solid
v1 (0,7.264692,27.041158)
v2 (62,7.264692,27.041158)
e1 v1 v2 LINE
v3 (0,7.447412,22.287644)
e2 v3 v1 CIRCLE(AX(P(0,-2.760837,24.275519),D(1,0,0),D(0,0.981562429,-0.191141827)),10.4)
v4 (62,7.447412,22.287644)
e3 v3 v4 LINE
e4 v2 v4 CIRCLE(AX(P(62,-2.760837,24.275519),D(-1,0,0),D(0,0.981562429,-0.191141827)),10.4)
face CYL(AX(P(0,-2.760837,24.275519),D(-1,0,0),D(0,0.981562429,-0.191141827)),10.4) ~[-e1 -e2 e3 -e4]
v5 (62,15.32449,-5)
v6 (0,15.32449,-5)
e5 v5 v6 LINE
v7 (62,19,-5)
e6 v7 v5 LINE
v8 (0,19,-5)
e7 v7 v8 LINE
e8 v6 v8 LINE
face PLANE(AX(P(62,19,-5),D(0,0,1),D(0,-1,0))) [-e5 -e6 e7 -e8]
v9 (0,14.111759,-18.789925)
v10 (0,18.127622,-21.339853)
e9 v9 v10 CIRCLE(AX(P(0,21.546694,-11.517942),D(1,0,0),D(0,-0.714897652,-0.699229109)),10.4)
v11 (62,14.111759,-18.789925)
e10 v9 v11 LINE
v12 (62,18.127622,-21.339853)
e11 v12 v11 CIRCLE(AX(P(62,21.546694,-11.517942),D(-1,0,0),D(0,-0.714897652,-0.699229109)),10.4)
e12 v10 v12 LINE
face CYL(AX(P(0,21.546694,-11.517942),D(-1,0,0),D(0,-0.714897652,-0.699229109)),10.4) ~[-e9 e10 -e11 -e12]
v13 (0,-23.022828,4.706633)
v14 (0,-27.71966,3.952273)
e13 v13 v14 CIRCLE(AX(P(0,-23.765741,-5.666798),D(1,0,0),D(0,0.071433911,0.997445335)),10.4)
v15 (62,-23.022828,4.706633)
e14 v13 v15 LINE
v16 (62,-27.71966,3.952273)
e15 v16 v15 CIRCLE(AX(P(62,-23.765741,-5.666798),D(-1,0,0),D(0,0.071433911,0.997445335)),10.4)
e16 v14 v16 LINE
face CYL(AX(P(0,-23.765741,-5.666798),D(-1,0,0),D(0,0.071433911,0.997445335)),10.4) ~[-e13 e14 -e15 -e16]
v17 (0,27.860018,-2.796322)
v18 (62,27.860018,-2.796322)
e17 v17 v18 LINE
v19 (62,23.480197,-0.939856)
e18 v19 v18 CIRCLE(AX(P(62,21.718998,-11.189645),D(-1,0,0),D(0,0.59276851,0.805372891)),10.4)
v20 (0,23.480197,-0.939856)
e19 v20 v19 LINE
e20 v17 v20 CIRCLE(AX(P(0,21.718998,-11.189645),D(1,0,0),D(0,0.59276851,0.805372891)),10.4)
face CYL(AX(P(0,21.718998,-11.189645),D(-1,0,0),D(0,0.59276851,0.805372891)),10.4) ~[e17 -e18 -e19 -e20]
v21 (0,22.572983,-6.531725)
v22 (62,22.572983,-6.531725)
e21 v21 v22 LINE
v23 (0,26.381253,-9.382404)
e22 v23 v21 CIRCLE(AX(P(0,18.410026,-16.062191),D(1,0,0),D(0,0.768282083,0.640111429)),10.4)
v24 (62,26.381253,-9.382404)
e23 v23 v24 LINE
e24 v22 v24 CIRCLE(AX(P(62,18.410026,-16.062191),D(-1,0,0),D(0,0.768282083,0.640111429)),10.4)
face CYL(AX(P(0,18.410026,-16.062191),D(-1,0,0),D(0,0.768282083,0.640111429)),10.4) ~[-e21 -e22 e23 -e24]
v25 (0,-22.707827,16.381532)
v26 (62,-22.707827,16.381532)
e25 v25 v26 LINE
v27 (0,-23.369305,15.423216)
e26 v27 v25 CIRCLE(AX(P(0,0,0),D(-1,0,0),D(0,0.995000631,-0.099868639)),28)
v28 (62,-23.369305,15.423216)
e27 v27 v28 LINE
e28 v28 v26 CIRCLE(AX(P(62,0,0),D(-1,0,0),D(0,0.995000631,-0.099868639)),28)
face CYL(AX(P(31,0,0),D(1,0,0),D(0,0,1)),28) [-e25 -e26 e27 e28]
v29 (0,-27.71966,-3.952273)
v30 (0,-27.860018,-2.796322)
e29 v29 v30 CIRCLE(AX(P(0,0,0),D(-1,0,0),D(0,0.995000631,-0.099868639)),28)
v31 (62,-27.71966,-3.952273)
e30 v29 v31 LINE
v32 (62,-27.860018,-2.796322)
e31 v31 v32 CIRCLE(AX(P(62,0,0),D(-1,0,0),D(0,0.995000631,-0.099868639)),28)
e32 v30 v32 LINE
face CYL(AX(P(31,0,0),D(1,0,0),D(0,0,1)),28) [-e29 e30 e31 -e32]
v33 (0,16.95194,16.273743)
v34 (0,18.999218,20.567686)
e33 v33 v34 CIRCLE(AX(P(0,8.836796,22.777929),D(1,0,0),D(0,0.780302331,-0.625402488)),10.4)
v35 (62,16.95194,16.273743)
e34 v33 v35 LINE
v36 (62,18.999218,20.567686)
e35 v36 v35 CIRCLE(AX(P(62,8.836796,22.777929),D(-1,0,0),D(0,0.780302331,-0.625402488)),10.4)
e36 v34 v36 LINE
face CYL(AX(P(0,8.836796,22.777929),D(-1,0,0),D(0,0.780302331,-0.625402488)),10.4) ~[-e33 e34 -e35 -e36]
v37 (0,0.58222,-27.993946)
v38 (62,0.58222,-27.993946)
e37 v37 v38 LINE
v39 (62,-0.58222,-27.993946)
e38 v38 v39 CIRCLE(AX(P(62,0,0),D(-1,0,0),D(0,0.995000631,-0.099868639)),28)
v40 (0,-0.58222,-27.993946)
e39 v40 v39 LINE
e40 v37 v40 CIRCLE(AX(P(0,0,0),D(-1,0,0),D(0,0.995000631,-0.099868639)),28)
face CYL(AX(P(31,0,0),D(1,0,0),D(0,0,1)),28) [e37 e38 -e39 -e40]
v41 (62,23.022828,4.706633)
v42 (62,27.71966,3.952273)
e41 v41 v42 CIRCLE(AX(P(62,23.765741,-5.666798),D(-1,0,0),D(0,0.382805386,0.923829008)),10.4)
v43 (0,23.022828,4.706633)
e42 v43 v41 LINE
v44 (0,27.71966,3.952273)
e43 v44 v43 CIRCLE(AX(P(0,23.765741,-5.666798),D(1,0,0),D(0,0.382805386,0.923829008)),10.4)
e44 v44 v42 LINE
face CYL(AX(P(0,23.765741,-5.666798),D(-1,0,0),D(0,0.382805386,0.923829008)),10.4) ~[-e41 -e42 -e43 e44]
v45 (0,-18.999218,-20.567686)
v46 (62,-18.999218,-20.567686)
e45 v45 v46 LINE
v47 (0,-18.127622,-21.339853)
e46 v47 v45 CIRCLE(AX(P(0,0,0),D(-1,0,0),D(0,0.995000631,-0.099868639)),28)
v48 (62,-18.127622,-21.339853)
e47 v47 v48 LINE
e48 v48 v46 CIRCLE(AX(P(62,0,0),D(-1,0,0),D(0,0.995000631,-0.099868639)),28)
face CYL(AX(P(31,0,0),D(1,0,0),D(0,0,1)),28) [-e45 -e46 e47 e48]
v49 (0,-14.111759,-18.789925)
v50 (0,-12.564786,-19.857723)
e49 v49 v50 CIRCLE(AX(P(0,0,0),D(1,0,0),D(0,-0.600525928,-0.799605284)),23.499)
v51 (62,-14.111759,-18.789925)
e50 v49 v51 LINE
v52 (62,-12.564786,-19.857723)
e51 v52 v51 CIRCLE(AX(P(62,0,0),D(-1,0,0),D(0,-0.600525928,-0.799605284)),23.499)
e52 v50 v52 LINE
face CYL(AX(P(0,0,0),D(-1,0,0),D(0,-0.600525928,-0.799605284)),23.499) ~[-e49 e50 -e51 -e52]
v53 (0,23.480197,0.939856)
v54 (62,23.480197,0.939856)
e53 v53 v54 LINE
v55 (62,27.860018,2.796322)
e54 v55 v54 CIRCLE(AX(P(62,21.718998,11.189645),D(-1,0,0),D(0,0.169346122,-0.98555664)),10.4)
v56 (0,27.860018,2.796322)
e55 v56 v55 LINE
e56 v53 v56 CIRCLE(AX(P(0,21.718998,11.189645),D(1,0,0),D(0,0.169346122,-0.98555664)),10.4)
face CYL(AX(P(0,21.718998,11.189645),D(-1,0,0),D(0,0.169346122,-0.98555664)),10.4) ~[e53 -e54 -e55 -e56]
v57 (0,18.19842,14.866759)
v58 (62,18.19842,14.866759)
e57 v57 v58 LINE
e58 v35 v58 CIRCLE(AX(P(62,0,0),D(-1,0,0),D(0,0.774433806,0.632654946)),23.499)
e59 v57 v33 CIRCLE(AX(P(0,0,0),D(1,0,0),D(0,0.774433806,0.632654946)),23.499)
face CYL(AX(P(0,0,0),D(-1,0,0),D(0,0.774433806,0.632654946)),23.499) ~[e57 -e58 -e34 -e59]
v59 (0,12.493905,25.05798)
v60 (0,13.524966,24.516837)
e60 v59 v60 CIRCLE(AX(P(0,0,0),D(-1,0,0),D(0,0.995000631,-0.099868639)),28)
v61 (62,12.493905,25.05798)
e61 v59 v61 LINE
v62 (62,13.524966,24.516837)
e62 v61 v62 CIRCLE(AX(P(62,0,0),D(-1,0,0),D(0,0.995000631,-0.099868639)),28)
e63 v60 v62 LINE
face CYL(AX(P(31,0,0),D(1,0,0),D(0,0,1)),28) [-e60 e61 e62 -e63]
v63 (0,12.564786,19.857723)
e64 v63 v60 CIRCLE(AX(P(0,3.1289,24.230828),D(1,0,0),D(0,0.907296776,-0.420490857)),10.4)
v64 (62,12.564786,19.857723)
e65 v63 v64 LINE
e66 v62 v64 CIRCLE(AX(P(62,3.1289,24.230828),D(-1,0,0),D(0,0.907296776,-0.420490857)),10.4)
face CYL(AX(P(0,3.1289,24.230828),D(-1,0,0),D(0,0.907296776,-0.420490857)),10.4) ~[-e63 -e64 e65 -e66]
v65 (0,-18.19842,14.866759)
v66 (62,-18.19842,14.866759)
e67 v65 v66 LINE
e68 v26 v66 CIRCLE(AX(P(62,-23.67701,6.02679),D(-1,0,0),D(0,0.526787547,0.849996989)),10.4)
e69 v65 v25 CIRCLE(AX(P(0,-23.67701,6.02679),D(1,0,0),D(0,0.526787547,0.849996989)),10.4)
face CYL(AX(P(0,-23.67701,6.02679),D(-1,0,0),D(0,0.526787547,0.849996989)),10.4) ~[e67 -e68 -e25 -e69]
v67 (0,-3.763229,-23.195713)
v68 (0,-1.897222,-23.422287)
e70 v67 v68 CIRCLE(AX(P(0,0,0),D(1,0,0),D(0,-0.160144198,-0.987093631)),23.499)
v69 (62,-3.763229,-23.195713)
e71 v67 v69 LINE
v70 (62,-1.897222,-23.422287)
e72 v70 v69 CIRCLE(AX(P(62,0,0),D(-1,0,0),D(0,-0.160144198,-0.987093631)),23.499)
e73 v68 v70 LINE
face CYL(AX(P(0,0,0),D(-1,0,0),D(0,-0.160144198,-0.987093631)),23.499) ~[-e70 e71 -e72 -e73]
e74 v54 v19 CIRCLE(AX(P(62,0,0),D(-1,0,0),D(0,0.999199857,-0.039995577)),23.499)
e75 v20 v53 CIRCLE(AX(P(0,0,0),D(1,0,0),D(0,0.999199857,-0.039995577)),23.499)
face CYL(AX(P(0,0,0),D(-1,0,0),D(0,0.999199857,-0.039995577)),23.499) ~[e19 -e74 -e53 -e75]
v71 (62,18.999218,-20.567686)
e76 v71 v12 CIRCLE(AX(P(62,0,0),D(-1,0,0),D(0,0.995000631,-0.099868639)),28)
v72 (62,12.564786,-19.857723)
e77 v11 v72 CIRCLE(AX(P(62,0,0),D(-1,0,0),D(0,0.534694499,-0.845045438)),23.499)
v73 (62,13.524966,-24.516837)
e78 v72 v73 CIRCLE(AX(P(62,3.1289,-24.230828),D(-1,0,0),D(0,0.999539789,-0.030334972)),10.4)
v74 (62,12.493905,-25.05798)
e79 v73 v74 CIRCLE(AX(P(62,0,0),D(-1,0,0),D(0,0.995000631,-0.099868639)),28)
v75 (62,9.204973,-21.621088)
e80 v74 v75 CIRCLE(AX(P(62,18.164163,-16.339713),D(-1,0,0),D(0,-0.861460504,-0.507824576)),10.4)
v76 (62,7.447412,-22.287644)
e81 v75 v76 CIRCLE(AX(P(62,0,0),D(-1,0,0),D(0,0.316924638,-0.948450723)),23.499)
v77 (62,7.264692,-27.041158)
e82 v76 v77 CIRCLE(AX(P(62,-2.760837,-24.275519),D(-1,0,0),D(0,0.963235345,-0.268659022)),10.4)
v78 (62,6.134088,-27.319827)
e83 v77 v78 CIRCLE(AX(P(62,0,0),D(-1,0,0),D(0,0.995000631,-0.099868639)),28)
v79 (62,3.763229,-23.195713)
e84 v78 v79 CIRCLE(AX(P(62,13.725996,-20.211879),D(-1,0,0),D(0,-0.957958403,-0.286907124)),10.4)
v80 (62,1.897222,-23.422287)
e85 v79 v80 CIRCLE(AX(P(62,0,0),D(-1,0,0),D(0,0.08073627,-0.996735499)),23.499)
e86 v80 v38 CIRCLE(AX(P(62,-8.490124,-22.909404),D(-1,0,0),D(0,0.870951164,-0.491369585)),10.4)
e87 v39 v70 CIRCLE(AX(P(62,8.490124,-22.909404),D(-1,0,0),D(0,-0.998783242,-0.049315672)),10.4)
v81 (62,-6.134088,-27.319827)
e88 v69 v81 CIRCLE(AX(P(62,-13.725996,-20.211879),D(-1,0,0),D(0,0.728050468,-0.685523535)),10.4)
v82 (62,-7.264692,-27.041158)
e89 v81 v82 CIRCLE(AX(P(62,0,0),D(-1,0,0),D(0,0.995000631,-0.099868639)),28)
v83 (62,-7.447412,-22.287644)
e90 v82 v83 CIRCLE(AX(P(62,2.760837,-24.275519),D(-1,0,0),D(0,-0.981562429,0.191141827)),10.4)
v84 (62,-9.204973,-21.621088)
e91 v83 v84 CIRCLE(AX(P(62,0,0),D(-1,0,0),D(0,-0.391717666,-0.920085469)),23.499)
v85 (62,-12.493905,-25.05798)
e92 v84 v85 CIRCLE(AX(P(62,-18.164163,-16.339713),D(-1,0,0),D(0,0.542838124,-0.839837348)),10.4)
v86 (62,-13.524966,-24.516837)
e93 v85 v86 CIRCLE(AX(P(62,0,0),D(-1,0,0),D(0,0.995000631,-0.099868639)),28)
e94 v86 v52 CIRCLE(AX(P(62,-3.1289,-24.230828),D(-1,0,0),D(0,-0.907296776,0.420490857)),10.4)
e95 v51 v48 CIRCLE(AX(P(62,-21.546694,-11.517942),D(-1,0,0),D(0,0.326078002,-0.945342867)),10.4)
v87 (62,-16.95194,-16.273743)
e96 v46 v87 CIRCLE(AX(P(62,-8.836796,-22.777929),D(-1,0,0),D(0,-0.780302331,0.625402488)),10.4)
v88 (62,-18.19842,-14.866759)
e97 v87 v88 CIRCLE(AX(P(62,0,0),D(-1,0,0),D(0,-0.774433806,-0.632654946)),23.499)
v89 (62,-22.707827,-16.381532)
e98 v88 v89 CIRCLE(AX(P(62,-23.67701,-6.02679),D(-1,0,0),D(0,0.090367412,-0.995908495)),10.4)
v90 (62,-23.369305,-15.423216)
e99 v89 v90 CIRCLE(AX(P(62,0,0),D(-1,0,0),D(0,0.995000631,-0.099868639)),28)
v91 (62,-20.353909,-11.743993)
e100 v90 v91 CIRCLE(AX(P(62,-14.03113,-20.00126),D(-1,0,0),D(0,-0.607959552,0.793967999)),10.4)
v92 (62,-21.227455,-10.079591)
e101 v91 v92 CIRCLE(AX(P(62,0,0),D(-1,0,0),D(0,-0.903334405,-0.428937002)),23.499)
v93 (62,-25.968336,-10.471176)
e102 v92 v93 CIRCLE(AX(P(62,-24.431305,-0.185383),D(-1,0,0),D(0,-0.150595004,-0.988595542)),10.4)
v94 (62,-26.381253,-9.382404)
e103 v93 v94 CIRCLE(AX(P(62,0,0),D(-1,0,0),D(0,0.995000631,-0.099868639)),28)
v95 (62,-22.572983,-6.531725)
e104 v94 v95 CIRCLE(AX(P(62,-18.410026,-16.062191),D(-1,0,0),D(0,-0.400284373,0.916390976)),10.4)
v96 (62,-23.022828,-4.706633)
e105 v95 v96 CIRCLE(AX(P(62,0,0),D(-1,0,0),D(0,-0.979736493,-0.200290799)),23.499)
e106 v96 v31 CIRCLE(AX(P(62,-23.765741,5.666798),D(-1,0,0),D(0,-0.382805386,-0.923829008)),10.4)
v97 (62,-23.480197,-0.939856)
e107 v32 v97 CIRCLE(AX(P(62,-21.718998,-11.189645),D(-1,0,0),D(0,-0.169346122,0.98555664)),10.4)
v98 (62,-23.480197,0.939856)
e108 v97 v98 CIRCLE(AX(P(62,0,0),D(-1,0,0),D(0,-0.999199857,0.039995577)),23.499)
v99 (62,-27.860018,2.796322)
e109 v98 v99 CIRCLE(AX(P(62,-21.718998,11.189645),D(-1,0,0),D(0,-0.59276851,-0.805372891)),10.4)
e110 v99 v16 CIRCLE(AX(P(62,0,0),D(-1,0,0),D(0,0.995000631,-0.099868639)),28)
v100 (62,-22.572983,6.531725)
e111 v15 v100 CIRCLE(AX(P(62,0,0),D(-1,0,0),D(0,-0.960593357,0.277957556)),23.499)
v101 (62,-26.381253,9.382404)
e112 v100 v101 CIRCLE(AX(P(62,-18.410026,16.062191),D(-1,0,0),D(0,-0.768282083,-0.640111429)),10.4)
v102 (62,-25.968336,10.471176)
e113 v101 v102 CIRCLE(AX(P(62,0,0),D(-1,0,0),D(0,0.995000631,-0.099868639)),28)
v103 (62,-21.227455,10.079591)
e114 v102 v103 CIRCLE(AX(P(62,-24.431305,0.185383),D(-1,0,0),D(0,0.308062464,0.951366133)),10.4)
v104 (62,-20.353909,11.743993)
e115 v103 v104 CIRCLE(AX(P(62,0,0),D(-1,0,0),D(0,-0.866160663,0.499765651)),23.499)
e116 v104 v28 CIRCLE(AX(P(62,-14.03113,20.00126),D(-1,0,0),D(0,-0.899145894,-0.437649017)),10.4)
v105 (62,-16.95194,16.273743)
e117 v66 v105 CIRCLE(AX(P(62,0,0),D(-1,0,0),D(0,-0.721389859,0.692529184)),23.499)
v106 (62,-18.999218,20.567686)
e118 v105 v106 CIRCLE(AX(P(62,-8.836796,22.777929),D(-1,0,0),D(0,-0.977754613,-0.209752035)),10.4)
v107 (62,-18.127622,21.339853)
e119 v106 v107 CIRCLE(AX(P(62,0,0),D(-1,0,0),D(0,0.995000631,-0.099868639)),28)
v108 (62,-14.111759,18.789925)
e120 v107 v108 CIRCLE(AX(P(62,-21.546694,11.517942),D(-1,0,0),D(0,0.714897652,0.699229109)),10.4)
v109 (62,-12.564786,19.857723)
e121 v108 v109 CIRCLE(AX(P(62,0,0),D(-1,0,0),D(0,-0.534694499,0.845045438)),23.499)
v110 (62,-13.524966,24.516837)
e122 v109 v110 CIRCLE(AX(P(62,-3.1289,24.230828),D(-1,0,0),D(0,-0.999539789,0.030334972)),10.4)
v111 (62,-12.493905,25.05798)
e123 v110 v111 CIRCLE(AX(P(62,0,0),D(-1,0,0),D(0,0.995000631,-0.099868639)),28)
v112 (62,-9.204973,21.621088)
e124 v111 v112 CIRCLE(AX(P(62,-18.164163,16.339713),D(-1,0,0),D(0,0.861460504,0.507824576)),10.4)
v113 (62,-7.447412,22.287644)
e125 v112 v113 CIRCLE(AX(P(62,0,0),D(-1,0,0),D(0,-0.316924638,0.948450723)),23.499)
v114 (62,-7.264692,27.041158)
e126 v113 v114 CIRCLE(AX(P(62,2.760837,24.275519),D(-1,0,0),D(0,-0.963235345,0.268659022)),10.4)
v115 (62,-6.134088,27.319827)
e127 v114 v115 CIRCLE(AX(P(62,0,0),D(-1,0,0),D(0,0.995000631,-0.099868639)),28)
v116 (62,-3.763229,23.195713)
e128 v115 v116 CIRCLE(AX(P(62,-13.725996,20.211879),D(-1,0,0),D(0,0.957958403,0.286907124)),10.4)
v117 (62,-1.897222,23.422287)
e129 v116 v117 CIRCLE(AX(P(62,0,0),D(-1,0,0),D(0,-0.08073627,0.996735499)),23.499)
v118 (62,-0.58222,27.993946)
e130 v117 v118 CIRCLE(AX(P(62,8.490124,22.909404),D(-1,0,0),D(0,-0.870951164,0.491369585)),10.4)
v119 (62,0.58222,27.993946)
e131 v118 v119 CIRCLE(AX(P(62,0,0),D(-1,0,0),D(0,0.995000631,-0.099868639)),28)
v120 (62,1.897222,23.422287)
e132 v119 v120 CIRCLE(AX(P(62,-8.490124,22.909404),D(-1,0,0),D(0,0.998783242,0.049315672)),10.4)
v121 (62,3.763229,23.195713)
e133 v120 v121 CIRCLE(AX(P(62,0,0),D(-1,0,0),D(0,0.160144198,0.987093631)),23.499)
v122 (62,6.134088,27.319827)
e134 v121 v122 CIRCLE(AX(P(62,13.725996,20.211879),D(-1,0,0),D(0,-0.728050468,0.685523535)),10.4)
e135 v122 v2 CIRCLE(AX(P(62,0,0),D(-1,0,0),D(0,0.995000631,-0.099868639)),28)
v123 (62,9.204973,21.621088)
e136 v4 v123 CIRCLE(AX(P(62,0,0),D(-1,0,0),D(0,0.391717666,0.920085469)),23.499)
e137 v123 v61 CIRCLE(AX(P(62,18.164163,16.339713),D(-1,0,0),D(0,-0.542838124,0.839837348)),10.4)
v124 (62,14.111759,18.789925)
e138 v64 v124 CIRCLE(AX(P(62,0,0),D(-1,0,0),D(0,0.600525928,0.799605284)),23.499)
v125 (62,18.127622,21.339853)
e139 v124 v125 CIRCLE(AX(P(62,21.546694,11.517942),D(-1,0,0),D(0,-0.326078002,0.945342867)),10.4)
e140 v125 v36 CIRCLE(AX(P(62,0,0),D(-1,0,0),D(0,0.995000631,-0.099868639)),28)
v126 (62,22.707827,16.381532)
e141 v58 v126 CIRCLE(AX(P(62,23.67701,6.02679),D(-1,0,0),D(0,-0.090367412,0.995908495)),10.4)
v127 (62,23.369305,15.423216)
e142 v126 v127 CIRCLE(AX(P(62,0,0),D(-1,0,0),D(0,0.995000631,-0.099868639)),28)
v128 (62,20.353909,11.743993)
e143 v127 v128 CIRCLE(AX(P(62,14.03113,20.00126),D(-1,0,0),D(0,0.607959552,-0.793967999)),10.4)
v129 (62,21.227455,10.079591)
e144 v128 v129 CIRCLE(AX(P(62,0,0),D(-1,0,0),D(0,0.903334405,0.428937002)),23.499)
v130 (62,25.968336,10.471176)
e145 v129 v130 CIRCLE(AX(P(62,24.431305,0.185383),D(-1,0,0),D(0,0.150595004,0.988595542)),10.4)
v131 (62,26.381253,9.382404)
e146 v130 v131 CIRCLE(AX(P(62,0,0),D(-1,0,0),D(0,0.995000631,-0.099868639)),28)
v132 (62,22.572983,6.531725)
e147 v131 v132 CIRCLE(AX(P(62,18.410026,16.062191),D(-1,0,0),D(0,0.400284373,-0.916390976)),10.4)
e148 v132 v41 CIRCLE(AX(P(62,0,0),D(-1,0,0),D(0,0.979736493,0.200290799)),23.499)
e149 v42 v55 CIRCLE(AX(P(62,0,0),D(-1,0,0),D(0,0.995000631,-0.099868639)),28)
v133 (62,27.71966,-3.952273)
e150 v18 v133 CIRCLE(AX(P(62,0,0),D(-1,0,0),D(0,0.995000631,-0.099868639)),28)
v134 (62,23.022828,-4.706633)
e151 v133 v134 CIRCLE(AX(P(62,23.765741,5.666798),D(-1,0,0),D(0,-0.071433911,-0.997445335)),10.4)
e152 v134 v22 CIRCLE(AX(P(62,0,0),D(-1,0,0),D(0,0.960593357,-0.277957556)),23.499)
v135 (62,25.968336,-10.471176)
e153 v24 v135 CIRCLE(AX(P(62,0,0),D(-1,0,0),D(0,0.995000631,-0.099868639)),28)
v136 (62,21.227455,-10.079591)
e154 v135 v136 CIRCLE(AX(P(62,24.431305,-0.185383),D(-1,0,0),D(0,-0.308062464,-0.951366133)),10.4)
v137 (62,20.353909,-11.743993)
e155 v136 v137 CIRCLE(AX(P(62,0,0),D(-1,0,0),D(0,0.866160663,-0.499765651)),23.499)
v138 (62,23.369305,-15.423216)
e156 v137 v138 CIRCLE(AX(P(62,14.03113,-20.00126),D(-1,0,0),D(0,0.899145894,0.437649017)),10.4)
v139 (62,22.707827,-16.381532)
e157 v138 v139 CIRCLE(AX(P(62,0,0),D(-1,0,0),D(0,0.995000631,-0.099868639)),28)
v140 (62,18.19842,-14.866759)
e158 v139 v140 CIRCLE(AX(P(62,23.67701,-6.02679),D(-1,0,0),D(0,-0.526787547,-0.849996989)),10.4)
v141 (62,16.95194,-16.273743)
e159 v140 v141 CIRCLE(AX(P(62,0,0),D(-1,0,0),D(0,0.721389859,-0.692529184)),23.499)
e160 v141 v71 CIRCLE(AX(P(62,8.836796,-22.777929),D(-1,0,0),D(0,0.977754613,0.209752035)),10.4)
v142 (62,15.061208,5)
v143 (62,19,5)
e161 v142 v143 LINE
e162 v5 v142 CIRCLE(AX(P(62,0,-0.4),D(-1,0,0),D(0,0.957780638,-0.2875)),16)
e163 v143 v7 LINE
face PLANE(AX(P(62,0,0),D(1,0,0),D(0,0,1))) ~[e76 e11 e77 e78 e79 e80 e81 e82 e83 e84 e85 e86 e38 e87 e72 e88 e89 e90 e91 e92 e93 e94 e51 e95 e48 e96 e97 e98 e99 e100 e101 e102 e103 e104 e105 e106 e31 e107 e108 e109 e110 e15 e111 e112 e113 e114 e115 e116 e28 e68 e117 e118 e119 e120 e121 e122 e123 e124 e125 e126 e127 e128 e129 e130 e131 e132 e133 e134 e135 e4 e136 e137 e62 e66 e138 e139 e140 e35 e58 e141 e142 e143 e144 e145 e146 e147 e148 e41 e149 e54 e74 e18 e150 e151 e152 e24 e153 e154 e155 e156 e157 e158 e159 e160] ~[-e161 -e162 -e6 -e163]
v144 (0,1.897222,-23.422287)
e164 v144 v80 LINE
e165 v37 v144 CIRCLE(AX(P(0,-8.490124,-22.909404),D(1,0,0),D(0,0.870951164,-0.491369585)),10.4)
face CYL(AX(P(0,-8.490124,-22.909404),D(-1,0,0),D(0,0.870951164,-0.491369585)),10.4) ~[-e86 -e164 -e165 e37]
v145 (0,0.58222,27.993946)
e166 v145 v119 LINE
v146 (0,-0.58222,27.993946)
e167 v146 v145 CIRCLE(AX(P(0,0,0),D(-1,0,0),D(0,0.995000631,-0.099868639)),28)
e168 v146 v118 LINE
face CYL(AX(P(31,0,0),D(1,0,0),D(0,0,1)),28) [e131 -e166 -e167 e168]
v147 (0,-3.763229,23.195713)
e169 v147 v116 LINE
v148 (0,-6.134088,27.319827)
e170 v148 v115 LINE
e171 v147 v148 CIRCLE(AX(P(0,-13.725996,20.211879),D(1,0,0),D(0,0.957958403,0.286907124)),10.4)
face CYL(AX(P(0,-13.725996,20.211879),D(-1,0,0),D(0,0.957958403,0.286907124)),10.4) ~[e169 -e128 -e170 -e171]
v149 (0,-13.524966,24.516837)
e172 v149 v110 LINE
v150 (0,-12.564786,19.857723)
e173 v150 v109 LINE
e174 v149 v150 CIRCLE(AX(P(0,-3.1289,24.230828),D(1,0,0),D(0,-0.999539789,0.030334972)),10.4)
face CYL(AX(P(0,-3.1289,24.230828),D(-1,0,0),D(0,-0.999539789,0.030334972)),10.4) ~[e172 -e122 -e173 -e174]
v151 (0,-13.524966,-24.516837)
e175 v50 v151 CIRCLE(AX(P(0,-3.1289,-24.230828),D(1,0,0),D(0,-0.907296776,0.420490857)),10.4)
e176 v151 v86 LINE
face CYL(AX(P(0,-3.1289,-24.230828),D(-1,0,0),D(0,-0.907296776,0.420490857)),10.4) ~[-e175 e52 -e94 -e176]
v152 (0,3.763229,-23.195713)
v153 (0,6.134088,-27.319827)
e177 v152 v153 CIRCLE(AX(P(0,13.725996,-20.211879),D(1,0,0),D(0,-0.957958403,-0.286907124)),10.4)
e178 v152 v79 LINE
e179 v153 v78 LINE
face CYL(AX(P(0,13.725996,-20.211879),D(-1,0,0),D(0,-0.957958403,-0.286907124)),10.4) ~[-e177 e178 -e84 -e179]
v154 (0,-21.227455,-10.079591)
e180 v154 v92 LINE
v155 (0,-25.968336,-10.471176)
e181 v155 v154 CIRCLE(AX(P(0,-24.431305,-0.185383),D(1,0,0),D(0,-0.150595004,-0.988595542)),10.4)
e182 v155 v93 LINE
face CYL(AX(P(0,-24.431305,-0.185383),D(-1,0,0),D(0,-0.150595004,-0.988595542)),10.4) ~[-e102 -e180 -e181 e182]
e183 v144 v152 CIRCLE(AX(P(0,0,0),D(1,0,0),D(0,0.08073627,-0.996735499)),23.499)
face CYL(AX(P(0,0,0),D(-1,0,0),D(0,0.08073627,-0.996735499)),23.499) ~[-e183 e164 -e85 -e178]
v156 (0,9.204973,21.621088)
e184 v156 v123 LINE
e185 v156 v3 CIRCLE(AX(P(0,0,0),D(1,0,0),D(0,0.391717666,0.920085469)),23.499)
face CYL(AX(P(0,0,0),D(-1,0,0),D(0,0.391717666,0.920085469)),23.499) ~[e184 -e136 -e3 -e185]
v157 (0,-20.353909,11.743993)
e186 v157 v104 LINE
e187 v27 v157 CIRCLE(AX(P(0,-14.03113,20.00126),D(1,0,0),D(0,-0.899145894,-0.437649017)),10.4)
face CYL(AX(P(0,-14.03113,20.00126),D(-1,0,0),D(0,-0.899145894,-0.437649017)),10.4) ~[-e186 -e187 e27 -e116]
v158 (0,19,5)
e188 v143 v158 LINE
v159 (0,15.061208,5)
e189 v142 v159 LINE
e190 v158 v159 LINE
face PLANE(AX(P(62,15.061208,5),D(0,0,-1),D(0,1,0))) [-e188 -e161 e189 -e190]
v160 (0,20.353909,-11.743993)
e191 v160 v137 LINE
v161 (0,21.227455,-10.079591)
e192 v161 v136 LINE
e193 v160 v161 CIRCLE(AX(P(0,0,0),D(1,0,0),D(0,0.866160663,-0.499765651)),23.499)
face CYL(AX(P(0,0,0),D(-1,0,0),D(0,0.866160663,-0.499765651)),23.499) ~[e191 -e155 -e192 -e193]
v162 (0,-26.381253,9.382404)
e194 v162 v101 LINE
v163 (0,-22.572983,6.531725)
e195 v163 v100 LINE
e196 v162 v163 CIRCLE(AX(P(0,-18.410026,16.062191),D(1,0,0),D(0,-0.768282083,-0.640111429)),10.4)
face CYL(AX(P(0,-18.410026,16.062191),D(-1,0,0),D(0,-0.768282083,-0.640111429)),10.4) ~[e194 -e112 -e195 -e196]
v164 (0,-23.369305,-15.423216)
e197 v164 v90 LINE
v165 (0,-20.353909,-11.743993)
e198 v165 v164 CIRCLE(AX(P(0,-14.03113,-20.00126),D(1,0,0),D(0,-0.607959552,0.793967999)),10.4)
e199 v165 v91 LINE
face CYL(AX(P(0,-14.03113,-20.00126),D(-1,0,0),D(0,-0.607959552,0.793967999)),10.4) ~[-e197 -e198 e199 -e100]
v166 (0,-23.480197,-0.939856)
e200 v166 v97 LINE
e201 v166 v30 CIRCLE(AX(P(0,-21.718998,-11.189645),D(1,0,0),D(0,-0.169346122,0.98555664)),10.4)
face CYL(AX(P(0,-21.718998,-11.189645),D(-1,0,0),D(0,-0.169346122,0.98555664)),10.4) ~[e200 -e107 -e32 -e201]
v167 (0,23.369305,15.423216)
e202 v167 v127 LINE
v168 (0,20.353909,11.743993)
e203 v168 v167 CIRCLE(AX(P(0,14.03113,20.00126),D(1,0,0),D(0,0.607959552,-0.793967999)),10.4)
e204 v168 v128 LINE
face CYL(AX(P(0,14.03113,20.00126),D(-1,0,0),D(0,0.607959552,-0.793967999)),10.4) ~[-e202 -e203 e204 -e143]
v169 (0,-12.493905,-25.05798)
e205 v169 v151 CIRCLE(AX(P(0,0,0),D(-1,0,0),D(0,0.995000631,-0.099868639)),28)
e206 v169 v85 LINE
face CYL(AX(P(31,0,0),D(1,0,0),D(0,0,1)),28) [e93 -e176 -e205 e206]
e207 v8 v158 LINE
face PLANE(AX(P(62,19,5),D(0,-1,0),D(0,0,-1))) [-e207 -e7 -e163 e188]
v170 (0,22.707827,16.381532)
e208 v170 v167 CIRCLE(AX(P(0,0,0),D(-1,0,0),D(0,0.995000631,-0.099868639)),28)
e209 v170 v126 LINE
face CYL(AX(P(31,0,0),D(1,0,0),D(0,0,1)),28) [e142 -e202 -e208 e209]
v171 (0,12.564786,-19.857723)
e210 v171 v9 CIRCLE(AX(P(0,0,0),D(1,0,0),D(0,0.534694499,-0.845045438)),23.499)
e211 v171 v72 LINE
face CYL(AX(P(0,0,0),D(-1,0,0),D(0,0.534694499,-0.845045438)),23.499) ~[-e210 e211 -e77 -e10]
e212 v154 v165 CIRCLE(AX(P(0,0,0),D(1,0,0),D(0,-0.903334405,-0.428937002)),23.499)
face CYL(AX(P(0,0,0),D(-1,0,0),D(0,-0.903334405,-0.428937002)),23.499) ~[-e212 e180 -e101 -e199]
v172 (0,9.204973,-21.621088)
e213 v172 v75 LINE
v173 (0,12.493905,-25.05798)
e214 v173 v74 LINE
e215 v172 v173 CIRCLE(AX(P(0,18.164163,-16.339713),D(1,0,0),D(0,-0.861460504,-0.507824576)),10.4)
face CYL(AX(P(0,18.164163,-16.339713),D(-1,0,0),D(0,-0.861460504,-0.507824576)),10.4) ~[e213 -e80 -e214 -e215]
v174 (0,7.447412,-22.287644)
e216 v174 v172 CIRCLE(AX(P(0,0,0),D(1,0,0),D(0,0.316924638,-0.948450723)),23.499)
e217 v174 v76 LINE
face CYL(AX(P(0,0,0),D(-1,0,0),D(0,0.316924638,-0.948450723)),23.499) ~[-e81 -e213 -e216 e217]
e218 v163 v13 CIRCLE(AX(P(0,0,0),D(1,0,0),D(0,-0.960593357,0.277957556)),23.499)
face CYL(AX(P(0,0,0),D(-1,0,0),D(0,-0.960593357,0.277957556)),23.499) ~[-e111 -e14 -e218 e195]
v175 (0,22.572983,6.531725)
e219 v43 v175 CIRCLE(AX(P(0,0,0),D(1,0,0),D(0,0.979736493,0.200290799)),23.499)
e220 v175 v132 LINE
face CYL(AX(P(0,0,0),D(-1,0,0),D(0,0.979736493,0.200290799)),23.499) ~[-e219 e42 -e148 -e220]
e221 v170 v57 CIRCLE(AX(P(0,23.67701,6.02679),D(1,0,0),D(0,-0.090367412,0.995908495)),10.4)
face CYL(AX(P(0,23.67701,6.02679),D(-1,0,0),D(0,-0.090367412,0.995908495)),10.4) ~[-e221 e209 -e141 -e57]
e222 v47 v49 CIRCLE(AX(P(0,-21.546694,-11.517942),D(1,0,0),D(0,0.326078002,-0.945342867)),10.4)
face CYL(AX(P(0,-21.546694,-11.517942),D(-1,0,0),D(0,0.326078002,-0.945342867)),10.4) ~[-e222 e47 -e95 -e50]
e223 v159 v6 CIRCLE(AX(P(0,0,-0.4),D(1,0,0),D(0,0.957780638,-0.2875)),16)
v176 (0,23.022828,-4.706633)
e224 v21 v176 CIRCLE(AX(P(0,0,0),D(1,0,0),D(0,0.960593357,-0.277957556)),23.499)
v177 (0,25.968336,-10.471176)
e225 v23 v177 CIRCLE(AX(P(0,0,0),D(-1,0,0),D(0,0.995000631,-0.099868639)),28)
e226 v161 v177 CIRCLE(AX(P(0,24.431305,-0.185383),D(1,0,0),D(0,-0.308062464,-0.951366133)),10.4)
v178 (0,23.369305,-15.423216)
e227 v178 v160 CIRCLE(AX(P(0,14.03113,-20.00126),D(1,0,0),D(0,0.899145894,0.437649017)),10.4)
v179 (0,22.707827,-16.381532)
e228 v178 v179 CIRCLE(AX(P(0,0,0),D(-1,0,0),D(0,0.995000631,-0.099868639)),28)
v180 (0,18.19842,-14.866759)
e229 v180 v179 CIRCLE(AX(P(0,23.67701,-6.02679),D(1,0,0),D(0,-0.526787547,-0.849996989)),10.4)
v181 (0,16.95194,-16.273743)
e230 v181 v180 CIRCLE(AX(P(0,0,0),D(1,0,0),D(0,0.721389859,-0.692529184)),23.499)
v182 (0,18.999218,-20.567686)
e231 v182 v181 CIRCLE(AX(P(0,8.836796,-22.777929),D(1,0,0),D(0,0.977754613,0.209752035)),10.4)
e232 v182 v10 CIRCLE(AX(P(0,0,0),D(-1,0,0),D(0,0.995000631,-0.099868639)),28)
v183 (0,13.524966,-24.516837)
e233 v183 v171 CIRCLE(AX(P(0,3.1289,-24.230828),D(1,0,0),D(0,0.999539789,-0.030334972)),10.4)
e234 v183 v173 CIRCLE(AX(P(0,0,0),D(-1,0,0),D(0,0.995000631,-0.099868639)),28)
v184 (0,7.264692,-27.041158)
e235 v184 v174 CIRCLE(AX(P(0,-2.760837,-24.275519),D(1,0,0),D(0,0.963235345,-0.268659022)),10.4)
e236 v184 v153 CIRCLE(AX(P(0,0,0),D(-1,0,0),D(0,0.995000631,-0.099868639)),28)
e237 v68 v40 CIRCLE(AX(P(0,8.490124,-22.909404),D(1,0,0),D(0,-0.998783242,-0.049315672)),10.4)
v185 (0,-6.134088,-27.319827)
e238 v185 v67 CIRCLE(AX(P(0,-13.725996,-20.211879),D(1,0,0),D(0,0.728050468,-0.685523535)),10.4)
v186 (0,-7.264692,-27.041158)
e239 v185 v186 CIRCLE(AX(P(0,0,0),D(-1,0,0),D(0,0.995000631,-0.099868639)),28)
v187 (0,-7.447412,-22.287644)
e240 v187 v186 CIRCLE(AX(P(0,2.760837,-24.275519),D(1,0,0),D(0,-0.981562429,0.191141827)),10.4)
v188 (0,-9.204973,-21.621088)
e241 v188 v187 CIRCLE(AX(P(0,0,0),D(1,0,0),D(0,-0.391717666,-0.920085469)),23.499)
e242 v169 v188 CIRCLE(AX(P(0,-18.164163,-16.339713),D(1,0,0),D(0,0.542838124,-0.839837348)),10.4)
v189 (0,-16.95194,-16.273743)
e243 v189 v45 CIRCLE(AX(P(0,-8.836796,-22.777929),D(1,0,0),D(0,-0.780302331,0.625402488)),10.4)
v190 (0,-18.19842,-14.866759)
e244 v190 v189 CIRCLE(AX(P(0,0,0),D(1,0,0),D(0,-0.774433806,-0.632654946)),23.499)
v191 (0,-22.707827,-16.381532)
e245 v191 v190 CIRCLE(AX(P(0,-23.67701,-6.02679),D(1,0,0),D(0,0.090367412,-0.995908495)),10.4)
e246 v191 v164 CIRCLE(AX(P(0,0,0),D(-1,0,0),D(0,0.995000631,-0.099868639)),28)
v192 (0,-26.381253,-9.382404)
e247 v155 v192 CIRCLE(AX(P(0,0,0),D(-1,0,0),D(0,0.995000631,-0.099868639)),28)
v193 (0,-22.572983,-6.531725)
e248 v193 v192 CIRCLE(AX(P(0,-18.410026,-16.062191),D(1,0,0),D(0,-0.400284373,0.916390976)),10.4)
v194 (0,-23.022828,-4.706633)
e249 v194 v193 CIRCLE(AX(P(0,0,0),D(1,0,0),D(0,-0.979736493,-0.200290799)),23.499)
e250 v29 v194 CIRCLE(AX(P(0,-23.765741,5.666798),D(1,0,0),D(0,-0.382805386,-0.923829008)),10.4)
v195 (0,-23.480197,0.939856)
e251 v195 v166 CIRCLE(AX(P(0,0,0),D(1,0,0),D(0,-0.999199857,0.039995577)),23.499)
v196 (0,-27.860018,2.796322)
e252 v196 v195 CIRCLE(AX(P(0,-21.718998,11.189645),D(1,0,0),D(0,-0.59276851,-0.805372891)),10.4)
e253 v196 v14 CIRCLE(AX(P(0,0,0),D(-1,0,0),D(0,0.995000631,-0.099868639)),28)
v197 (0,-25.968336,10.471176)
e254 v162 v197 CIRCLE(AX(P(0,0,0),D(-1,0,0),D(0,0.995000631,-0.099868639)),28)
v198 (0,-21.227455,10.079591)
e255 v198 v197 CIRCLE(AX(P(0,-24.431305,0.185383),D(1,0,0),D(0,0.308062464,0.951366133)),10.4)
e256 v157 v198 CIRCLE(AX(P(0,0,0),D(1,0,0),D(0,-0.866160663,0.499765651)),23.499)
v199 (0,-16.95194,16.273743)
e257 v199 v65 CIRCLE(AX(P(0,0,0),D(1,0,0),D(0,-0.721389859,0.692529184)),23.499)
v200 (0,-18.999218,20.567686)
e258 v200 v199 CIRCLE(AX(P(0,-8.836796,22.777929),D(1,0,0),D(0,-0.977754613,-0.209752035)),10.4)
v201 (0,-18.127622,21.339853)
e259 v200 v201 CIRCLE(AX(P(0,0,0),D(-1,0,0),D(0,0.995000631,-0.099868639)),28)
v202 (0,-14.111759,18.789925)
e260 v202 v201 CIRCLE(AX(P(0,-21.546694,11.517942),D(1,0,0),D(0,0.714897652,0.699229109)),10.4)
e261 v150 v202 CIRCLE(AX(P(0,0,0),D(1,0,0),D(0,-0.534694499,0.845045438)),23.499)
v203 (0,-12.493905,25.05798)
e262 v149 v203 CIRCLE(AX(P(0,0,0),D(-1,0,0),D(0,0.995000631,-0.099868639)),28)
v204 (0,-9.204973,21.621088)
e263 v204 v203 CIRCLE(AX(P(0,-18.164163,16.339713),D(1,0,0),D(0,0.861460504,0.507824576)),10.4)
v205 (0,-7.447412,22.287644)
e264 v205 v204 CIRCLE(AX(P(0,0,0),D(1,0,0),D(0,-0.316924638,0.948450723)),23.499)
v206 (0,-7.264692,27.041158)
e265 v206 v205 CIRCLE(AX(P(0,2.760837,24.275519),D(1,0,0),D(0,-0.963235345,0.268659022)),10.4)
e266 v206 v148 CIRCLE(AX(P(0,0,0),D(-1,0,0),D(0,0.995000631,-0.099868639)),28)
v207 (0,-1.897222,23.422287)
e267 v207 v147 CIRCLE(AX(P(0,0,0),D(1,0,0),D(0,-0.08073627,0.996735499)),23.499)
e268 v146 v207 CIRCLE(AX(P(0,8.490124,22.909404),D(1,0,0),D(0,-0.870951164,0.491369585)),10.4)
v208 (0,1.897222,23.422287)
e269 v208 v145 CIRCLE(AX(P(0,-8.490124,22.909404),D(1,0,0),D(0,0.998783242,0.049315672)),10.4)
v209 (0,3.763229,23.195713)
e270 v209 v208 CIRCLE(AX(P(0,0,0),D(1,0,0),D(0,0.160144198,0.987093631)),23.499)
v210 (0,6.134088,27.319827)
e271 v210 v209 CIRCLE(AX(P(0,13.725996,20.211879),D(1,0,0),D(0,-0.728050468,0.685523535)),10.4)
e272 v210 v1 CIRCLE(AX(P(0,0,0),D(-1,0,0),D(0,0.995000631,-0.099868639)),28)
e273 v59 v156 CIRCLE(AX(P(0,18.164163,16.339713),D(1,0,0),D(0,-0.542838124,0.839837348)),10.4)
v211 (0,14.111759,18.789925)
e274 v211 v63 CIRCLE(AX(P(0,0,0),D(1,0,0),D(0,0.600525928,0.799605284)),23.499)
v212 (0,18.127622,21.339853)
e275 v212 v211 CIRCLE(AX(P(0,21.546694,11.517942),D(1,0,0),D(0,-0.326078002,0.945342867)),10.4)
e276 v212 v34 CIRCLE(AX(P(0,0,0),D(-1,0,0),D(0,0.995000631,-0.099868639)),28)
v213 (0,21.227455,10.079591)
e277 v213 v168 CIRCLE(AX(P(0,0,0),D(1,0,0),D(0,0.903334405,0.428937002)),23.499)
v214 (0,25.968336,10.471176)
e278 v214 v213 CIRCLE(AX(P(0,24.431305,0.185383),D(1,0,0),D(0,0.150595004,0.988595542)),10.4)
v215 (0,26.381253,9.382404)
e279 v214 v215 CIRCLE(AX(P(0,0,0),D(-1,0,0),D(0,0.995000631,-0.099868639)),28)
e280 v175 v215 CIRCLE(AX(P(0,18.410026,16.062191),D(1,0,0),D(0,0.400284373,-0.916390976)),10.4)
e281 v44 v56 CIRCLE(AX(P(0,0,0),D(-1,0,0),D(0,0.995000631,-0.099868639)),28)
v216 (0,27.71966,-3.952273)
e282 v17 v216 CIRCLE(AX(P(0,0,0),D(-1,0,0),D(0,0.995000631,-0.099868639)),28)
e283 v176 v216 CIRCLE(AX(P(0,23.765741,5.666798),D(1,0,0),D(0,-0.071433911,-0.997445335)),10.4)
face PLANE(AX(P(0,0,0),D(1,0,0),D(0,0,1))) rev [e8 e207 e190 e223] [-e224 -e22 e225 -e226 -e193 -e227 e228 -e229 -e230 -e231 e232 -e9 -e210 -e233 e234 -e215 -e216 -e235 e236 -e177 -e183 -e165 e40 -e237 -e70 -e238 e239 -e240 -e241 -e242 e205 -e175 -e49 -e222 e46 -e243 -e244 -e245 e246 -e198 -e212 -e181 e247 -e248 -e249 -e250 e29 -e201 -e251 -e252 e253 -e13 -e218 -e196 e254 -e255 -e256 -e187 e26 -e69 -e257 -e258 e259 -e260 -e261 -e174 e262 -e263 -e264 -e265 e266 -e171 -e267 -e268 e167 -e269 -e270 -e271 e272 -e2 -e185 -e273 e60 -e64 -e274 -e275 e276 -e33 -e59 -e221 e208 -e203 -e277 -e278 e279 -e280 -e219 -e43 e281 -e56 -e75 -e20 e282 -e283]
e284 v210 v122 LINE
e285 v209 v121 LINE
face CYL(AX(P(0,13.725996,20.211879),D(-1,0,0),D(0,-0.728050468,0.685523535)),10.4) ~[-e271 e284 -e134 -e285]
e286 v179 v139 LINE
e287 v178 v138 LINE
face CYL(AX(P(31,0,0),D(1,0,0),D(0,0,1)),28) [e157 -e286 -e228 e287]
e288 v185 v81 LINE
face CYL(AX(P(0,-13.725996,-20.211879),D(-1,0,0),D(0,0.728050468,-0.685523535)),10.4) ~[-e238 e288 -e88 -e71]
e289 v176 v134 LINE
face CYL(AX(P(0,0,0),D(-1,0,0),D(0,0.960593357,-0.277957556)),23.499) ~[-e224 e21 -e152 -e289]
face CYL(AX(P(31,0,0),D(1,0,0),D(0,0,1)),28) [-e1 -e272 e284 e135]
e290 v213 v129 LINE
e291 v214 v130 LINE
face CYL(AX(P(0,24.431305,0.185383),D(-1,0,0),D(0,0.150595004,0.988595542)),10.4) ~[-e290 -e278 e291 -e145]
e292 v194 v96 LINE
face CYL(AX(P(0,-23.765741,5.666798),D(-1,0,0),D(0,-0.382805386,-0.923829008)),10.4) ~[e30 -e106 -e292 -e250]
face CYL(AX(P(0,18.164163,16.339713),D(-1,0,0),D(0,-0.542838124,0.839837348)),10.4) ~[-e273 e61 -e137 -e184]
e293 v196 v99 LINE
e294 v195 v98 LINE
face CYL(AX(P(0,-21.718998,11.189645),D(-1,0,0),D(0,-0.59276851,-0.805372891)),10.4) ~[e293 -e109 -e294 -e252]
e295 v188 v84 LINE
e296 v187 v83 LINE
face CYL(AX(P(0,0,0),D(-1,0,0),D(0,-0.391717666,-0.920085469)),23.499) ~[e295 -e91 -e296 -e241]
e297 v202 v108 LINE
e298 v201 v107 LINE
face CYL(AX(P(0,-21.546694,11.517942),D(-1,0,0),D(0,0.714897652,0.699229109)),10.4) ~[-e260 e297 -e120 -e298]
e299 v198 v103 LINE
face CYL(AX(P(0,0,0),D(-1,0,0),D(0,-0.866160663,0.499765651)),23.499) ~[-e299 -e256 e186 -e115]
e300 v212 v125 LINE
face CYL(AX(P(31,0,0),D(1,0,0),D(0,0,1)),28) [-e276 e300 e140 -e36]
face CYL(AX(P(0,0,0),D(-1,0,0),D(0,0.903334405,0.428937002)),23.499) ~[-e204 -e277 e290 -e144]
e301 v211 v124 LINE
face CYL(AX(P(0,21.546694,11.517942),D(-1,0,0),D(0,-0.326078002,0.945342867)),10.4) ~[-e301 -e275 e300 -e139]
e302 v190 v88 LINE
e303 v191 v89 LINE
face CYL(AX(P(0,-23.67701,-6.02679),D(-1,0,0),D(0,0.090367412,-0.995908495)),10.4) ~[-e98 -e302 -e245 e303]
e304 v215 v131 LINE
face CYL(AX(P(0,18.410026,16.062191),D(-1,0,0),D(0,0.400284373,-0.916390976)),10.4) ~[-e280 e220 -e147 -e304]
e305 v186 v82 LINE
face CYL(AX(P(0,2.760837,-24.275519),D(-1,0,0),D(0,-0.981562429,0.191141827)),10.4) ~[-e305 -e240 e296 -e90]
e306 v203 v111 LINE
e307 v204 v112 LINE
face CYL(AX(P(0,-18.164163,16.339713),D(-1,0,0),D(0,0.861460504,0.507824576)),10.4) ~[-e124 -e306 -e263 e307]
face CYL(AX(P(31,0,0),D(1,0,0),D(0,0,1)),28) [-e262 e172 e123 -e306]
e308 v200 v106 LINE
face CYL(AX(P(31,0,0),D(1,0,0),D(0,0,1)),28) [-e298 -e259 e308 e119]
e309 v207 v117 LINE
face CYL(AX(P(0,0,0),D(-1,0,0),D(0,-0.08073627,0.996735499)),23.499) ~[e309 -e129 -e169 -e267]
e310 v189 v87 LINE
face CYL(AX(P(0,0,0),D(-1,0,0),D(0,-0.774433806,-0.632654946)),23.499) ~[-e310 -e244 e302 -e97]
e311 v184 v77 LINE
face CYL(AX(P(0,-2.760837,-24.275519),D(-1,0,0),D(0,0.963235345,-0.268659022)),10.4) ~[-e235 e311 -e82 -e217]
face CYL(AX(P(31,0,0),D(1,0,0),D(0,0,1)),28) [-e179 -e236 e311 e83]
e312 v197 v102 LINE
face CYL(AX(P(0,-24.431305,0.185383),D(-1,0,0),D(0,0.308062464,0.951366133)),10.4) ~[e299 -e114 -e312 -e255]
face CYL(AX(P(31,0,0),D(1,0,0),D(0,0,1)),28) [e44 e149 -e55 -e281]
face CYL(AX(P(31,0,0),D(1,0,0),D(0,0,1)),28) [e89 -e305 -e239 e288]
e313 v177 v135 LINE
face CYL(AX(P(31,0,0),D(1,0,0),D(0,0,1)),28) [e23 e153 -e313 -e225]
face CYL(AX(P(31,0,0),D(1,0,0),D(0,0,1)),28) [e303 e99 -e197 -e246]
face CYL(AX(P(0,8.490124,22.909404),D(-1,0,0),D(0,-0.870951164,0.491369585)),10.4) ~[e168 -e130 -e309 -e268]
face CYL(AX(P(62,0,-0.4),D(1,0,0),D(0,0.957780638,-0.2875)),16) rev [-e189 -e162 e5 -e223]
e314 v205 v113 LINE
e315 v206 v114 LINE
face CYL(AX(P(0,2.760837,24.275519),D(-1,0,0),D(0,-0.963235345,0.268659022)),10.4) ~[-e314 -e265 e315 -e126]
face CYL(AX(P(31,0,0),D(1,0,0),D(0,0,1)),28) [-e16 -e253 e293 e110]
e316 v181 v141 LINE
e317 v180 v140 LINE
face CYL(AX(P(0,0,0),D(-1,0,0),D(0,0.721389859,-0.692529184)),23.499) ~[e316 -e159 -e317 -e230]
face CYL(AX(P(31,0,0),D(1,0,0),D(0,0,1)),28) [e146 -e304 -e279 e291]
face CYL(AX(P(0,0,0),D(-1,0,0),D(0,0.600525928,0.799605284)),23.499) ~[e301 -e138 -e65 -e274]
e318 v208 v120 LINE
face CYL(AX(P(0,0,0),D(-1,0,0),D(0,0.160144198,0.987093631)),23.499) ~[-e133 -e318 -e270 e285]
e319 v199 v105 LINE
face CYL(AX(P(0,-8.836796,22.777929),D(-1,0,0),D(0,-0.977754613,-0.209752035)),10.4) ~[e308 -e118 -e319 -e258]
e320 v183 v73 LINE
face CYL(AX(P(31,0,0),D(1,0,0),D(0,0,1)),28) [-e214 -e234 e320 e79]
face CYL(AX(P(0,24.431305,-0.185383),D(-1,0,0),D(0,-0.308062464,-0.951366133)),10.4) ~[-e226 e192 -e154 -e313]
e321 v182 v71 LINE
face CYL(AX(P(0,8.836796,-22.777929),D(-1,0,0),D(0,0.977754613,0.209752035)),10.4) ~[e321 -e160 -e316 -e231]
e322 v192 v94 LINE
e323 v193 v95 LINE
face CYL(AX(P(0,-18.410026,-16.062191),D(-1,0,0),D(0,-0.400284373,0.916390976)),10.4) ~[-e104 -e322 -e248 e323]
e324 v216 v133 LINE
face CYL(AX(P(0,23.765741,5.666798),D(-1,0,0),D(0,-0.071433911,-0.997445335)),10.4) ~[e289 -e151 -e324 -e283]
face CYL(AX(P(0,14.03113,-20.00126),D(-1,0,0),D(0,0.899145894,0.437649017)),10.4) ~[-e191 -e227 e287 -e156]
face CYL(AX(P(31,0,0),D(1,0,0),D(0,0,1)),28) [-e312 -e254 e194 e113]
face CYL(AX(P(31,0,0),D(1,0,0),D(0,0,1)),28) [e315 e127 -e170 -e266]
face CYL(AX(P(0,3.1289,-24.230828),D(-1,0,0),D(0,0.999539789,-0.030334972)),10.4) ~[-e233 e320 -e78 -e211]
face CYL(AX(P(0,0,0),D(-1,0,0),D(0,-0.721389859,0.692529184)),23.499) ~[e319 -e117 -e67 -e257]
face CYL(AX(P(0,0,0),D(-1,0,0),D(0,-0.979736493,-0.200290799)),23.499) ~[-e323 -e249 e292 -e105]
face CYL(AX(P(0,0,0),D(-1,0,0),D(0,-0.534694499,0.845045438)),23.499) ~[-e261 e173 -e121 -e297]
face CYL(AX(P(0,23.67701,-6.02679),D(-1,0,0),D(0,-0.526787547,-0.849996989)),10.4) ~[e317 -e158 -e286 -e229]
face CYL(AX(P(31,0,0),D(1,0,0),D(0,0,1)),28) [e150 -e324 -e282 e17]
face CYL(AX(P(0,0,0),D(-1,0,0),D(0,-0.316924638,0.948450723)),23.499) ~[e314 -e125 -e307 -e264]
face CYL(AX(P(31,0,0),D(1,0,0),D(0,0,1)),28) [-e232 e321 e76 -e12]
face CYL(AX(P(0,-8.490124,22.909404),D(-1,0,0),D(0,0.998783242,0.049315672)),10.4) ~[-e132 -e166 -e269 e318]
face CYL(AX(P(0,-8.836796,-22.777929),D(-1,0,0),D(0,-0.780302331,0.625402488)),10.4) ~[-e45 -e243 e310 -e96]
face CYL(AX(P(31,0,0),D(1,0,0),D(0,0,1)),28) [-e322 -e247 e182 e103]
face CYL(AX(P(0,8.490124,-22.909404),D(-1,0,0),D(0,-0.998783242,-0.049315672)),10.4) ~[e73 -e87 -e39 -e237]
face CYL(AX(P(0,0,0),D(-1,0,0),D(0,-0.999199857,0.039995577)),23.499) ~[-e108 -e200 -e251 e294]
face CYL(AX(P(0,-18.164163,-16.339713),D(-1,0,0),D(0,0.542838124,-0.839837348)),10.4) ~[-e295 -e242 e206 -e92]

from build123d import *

# Parameters (mm, degrees)
BASPROSKE_W        = 62
BASPROSKE_H        = 28
TOOTHCUT_DEPTH     = 74.566296631
TEETHCUTS_COUNT    = 26
TEETHCUTS_ANGLE    = 346.153846154
BORSKE_R           = 0.4
BORE_DEPTH         = 62.0000508
CUT_EXTRUDE1_DEPTH = 74.51313205


with BuildPart() as part:
    # BasProSke → Base-Revolve (revolve)
    with BuildSketch(Plane(origin=(0, 0, 0), x_dir=(1, 0, 0), z_dir=(0, 1, 0)), mode=Mode.PRIVATE) as base_revolve_sk:
        with Locations((31, 14)):
            Rectangle(BASPROSKE_W, BASPROSKE_H)
    revolve(base_revolve_sk.sketch.rotate(Axis((-10, 0, 0), (1, 0, 0)), 180), axis=Axis((-10, 0, 0), (1, 0, 0)))

    # TooCutSke → ToothCut (cut, through all)
    with BuildSketch(Plane(origin=(0, 0, 0), x_dir=(0, 0, -1), z_dir=(1, 0, 0))):
        with BuildLine():
            ThreePointArc((0.939856059, 23.480197435), (0, 23.499), (-0.939856059, 23.480197435))
            ThreePointArc((-0.939856059, 23.480197435), (-1.620069556, 25.791248201), (-2.813767052, 27.883790276))
            ThreePointArc((-2.813767052, 27.883790276), (0, 28.0254), (2.813767052, 27.883790276))
            ThreePointArc((2.813767052, 27.883790276), (1.620069556, 25.791248201), (0.939856059, 23.480197435))
        make_face()
    toothcut = extrude(amount=TOOTHCUT_DEPTH, mode=Mode.SUBTRACT)

    # TeethCuts: ToothCut ×26 about axis
    teethcuts_axis = Axis((-10, 0, 0), (1, 0, 0))
    for i in range(1, TEETHCUTS_COUNT):
        add(toothcut.rotate(teethcuts_axis, i * TEETHCUTS_ANGLE / (TEETHCUTS_COUNT - 1)), mode=Mode.SUBTRACT)

    # BorSke → Bore (cut, symmetric)
    with BuildSketch(Plane(origin=(0, 0, 0), x_dir=(0, 0, -1), z_dir=(1, 0, 0))):
        with Locations(Location((0, 0, 0), (0, 0, 180))):
            Circle(BORSKE_R)
    extrude(amount=BORE_DEPTH, both=True, mode=Mode.SUBTRACT)

    # Sketch1 → Cut-Extrude1 (cut, through all)
    with BuildSketch(Plane(origin=(62, 0, 0), x_dir=(0, 0, -1), z_dir=(1, 0, 0))):
        with BuildLine():
            Line((-5, 19), (5, 19))
            Line((5, 19), (5, 15.324490204))
            ThreePointArc((5, 15.324490204), (0.82110488, -15.994457499), (-5, 15.061208451))
            Line((-5, 15.061208451), (-5, 19))
        make_face()
    extrude(amount=-CUT_EXTRUDE1_DEPTH, mode=Mode.SUBTRACT)


solid = part.part
